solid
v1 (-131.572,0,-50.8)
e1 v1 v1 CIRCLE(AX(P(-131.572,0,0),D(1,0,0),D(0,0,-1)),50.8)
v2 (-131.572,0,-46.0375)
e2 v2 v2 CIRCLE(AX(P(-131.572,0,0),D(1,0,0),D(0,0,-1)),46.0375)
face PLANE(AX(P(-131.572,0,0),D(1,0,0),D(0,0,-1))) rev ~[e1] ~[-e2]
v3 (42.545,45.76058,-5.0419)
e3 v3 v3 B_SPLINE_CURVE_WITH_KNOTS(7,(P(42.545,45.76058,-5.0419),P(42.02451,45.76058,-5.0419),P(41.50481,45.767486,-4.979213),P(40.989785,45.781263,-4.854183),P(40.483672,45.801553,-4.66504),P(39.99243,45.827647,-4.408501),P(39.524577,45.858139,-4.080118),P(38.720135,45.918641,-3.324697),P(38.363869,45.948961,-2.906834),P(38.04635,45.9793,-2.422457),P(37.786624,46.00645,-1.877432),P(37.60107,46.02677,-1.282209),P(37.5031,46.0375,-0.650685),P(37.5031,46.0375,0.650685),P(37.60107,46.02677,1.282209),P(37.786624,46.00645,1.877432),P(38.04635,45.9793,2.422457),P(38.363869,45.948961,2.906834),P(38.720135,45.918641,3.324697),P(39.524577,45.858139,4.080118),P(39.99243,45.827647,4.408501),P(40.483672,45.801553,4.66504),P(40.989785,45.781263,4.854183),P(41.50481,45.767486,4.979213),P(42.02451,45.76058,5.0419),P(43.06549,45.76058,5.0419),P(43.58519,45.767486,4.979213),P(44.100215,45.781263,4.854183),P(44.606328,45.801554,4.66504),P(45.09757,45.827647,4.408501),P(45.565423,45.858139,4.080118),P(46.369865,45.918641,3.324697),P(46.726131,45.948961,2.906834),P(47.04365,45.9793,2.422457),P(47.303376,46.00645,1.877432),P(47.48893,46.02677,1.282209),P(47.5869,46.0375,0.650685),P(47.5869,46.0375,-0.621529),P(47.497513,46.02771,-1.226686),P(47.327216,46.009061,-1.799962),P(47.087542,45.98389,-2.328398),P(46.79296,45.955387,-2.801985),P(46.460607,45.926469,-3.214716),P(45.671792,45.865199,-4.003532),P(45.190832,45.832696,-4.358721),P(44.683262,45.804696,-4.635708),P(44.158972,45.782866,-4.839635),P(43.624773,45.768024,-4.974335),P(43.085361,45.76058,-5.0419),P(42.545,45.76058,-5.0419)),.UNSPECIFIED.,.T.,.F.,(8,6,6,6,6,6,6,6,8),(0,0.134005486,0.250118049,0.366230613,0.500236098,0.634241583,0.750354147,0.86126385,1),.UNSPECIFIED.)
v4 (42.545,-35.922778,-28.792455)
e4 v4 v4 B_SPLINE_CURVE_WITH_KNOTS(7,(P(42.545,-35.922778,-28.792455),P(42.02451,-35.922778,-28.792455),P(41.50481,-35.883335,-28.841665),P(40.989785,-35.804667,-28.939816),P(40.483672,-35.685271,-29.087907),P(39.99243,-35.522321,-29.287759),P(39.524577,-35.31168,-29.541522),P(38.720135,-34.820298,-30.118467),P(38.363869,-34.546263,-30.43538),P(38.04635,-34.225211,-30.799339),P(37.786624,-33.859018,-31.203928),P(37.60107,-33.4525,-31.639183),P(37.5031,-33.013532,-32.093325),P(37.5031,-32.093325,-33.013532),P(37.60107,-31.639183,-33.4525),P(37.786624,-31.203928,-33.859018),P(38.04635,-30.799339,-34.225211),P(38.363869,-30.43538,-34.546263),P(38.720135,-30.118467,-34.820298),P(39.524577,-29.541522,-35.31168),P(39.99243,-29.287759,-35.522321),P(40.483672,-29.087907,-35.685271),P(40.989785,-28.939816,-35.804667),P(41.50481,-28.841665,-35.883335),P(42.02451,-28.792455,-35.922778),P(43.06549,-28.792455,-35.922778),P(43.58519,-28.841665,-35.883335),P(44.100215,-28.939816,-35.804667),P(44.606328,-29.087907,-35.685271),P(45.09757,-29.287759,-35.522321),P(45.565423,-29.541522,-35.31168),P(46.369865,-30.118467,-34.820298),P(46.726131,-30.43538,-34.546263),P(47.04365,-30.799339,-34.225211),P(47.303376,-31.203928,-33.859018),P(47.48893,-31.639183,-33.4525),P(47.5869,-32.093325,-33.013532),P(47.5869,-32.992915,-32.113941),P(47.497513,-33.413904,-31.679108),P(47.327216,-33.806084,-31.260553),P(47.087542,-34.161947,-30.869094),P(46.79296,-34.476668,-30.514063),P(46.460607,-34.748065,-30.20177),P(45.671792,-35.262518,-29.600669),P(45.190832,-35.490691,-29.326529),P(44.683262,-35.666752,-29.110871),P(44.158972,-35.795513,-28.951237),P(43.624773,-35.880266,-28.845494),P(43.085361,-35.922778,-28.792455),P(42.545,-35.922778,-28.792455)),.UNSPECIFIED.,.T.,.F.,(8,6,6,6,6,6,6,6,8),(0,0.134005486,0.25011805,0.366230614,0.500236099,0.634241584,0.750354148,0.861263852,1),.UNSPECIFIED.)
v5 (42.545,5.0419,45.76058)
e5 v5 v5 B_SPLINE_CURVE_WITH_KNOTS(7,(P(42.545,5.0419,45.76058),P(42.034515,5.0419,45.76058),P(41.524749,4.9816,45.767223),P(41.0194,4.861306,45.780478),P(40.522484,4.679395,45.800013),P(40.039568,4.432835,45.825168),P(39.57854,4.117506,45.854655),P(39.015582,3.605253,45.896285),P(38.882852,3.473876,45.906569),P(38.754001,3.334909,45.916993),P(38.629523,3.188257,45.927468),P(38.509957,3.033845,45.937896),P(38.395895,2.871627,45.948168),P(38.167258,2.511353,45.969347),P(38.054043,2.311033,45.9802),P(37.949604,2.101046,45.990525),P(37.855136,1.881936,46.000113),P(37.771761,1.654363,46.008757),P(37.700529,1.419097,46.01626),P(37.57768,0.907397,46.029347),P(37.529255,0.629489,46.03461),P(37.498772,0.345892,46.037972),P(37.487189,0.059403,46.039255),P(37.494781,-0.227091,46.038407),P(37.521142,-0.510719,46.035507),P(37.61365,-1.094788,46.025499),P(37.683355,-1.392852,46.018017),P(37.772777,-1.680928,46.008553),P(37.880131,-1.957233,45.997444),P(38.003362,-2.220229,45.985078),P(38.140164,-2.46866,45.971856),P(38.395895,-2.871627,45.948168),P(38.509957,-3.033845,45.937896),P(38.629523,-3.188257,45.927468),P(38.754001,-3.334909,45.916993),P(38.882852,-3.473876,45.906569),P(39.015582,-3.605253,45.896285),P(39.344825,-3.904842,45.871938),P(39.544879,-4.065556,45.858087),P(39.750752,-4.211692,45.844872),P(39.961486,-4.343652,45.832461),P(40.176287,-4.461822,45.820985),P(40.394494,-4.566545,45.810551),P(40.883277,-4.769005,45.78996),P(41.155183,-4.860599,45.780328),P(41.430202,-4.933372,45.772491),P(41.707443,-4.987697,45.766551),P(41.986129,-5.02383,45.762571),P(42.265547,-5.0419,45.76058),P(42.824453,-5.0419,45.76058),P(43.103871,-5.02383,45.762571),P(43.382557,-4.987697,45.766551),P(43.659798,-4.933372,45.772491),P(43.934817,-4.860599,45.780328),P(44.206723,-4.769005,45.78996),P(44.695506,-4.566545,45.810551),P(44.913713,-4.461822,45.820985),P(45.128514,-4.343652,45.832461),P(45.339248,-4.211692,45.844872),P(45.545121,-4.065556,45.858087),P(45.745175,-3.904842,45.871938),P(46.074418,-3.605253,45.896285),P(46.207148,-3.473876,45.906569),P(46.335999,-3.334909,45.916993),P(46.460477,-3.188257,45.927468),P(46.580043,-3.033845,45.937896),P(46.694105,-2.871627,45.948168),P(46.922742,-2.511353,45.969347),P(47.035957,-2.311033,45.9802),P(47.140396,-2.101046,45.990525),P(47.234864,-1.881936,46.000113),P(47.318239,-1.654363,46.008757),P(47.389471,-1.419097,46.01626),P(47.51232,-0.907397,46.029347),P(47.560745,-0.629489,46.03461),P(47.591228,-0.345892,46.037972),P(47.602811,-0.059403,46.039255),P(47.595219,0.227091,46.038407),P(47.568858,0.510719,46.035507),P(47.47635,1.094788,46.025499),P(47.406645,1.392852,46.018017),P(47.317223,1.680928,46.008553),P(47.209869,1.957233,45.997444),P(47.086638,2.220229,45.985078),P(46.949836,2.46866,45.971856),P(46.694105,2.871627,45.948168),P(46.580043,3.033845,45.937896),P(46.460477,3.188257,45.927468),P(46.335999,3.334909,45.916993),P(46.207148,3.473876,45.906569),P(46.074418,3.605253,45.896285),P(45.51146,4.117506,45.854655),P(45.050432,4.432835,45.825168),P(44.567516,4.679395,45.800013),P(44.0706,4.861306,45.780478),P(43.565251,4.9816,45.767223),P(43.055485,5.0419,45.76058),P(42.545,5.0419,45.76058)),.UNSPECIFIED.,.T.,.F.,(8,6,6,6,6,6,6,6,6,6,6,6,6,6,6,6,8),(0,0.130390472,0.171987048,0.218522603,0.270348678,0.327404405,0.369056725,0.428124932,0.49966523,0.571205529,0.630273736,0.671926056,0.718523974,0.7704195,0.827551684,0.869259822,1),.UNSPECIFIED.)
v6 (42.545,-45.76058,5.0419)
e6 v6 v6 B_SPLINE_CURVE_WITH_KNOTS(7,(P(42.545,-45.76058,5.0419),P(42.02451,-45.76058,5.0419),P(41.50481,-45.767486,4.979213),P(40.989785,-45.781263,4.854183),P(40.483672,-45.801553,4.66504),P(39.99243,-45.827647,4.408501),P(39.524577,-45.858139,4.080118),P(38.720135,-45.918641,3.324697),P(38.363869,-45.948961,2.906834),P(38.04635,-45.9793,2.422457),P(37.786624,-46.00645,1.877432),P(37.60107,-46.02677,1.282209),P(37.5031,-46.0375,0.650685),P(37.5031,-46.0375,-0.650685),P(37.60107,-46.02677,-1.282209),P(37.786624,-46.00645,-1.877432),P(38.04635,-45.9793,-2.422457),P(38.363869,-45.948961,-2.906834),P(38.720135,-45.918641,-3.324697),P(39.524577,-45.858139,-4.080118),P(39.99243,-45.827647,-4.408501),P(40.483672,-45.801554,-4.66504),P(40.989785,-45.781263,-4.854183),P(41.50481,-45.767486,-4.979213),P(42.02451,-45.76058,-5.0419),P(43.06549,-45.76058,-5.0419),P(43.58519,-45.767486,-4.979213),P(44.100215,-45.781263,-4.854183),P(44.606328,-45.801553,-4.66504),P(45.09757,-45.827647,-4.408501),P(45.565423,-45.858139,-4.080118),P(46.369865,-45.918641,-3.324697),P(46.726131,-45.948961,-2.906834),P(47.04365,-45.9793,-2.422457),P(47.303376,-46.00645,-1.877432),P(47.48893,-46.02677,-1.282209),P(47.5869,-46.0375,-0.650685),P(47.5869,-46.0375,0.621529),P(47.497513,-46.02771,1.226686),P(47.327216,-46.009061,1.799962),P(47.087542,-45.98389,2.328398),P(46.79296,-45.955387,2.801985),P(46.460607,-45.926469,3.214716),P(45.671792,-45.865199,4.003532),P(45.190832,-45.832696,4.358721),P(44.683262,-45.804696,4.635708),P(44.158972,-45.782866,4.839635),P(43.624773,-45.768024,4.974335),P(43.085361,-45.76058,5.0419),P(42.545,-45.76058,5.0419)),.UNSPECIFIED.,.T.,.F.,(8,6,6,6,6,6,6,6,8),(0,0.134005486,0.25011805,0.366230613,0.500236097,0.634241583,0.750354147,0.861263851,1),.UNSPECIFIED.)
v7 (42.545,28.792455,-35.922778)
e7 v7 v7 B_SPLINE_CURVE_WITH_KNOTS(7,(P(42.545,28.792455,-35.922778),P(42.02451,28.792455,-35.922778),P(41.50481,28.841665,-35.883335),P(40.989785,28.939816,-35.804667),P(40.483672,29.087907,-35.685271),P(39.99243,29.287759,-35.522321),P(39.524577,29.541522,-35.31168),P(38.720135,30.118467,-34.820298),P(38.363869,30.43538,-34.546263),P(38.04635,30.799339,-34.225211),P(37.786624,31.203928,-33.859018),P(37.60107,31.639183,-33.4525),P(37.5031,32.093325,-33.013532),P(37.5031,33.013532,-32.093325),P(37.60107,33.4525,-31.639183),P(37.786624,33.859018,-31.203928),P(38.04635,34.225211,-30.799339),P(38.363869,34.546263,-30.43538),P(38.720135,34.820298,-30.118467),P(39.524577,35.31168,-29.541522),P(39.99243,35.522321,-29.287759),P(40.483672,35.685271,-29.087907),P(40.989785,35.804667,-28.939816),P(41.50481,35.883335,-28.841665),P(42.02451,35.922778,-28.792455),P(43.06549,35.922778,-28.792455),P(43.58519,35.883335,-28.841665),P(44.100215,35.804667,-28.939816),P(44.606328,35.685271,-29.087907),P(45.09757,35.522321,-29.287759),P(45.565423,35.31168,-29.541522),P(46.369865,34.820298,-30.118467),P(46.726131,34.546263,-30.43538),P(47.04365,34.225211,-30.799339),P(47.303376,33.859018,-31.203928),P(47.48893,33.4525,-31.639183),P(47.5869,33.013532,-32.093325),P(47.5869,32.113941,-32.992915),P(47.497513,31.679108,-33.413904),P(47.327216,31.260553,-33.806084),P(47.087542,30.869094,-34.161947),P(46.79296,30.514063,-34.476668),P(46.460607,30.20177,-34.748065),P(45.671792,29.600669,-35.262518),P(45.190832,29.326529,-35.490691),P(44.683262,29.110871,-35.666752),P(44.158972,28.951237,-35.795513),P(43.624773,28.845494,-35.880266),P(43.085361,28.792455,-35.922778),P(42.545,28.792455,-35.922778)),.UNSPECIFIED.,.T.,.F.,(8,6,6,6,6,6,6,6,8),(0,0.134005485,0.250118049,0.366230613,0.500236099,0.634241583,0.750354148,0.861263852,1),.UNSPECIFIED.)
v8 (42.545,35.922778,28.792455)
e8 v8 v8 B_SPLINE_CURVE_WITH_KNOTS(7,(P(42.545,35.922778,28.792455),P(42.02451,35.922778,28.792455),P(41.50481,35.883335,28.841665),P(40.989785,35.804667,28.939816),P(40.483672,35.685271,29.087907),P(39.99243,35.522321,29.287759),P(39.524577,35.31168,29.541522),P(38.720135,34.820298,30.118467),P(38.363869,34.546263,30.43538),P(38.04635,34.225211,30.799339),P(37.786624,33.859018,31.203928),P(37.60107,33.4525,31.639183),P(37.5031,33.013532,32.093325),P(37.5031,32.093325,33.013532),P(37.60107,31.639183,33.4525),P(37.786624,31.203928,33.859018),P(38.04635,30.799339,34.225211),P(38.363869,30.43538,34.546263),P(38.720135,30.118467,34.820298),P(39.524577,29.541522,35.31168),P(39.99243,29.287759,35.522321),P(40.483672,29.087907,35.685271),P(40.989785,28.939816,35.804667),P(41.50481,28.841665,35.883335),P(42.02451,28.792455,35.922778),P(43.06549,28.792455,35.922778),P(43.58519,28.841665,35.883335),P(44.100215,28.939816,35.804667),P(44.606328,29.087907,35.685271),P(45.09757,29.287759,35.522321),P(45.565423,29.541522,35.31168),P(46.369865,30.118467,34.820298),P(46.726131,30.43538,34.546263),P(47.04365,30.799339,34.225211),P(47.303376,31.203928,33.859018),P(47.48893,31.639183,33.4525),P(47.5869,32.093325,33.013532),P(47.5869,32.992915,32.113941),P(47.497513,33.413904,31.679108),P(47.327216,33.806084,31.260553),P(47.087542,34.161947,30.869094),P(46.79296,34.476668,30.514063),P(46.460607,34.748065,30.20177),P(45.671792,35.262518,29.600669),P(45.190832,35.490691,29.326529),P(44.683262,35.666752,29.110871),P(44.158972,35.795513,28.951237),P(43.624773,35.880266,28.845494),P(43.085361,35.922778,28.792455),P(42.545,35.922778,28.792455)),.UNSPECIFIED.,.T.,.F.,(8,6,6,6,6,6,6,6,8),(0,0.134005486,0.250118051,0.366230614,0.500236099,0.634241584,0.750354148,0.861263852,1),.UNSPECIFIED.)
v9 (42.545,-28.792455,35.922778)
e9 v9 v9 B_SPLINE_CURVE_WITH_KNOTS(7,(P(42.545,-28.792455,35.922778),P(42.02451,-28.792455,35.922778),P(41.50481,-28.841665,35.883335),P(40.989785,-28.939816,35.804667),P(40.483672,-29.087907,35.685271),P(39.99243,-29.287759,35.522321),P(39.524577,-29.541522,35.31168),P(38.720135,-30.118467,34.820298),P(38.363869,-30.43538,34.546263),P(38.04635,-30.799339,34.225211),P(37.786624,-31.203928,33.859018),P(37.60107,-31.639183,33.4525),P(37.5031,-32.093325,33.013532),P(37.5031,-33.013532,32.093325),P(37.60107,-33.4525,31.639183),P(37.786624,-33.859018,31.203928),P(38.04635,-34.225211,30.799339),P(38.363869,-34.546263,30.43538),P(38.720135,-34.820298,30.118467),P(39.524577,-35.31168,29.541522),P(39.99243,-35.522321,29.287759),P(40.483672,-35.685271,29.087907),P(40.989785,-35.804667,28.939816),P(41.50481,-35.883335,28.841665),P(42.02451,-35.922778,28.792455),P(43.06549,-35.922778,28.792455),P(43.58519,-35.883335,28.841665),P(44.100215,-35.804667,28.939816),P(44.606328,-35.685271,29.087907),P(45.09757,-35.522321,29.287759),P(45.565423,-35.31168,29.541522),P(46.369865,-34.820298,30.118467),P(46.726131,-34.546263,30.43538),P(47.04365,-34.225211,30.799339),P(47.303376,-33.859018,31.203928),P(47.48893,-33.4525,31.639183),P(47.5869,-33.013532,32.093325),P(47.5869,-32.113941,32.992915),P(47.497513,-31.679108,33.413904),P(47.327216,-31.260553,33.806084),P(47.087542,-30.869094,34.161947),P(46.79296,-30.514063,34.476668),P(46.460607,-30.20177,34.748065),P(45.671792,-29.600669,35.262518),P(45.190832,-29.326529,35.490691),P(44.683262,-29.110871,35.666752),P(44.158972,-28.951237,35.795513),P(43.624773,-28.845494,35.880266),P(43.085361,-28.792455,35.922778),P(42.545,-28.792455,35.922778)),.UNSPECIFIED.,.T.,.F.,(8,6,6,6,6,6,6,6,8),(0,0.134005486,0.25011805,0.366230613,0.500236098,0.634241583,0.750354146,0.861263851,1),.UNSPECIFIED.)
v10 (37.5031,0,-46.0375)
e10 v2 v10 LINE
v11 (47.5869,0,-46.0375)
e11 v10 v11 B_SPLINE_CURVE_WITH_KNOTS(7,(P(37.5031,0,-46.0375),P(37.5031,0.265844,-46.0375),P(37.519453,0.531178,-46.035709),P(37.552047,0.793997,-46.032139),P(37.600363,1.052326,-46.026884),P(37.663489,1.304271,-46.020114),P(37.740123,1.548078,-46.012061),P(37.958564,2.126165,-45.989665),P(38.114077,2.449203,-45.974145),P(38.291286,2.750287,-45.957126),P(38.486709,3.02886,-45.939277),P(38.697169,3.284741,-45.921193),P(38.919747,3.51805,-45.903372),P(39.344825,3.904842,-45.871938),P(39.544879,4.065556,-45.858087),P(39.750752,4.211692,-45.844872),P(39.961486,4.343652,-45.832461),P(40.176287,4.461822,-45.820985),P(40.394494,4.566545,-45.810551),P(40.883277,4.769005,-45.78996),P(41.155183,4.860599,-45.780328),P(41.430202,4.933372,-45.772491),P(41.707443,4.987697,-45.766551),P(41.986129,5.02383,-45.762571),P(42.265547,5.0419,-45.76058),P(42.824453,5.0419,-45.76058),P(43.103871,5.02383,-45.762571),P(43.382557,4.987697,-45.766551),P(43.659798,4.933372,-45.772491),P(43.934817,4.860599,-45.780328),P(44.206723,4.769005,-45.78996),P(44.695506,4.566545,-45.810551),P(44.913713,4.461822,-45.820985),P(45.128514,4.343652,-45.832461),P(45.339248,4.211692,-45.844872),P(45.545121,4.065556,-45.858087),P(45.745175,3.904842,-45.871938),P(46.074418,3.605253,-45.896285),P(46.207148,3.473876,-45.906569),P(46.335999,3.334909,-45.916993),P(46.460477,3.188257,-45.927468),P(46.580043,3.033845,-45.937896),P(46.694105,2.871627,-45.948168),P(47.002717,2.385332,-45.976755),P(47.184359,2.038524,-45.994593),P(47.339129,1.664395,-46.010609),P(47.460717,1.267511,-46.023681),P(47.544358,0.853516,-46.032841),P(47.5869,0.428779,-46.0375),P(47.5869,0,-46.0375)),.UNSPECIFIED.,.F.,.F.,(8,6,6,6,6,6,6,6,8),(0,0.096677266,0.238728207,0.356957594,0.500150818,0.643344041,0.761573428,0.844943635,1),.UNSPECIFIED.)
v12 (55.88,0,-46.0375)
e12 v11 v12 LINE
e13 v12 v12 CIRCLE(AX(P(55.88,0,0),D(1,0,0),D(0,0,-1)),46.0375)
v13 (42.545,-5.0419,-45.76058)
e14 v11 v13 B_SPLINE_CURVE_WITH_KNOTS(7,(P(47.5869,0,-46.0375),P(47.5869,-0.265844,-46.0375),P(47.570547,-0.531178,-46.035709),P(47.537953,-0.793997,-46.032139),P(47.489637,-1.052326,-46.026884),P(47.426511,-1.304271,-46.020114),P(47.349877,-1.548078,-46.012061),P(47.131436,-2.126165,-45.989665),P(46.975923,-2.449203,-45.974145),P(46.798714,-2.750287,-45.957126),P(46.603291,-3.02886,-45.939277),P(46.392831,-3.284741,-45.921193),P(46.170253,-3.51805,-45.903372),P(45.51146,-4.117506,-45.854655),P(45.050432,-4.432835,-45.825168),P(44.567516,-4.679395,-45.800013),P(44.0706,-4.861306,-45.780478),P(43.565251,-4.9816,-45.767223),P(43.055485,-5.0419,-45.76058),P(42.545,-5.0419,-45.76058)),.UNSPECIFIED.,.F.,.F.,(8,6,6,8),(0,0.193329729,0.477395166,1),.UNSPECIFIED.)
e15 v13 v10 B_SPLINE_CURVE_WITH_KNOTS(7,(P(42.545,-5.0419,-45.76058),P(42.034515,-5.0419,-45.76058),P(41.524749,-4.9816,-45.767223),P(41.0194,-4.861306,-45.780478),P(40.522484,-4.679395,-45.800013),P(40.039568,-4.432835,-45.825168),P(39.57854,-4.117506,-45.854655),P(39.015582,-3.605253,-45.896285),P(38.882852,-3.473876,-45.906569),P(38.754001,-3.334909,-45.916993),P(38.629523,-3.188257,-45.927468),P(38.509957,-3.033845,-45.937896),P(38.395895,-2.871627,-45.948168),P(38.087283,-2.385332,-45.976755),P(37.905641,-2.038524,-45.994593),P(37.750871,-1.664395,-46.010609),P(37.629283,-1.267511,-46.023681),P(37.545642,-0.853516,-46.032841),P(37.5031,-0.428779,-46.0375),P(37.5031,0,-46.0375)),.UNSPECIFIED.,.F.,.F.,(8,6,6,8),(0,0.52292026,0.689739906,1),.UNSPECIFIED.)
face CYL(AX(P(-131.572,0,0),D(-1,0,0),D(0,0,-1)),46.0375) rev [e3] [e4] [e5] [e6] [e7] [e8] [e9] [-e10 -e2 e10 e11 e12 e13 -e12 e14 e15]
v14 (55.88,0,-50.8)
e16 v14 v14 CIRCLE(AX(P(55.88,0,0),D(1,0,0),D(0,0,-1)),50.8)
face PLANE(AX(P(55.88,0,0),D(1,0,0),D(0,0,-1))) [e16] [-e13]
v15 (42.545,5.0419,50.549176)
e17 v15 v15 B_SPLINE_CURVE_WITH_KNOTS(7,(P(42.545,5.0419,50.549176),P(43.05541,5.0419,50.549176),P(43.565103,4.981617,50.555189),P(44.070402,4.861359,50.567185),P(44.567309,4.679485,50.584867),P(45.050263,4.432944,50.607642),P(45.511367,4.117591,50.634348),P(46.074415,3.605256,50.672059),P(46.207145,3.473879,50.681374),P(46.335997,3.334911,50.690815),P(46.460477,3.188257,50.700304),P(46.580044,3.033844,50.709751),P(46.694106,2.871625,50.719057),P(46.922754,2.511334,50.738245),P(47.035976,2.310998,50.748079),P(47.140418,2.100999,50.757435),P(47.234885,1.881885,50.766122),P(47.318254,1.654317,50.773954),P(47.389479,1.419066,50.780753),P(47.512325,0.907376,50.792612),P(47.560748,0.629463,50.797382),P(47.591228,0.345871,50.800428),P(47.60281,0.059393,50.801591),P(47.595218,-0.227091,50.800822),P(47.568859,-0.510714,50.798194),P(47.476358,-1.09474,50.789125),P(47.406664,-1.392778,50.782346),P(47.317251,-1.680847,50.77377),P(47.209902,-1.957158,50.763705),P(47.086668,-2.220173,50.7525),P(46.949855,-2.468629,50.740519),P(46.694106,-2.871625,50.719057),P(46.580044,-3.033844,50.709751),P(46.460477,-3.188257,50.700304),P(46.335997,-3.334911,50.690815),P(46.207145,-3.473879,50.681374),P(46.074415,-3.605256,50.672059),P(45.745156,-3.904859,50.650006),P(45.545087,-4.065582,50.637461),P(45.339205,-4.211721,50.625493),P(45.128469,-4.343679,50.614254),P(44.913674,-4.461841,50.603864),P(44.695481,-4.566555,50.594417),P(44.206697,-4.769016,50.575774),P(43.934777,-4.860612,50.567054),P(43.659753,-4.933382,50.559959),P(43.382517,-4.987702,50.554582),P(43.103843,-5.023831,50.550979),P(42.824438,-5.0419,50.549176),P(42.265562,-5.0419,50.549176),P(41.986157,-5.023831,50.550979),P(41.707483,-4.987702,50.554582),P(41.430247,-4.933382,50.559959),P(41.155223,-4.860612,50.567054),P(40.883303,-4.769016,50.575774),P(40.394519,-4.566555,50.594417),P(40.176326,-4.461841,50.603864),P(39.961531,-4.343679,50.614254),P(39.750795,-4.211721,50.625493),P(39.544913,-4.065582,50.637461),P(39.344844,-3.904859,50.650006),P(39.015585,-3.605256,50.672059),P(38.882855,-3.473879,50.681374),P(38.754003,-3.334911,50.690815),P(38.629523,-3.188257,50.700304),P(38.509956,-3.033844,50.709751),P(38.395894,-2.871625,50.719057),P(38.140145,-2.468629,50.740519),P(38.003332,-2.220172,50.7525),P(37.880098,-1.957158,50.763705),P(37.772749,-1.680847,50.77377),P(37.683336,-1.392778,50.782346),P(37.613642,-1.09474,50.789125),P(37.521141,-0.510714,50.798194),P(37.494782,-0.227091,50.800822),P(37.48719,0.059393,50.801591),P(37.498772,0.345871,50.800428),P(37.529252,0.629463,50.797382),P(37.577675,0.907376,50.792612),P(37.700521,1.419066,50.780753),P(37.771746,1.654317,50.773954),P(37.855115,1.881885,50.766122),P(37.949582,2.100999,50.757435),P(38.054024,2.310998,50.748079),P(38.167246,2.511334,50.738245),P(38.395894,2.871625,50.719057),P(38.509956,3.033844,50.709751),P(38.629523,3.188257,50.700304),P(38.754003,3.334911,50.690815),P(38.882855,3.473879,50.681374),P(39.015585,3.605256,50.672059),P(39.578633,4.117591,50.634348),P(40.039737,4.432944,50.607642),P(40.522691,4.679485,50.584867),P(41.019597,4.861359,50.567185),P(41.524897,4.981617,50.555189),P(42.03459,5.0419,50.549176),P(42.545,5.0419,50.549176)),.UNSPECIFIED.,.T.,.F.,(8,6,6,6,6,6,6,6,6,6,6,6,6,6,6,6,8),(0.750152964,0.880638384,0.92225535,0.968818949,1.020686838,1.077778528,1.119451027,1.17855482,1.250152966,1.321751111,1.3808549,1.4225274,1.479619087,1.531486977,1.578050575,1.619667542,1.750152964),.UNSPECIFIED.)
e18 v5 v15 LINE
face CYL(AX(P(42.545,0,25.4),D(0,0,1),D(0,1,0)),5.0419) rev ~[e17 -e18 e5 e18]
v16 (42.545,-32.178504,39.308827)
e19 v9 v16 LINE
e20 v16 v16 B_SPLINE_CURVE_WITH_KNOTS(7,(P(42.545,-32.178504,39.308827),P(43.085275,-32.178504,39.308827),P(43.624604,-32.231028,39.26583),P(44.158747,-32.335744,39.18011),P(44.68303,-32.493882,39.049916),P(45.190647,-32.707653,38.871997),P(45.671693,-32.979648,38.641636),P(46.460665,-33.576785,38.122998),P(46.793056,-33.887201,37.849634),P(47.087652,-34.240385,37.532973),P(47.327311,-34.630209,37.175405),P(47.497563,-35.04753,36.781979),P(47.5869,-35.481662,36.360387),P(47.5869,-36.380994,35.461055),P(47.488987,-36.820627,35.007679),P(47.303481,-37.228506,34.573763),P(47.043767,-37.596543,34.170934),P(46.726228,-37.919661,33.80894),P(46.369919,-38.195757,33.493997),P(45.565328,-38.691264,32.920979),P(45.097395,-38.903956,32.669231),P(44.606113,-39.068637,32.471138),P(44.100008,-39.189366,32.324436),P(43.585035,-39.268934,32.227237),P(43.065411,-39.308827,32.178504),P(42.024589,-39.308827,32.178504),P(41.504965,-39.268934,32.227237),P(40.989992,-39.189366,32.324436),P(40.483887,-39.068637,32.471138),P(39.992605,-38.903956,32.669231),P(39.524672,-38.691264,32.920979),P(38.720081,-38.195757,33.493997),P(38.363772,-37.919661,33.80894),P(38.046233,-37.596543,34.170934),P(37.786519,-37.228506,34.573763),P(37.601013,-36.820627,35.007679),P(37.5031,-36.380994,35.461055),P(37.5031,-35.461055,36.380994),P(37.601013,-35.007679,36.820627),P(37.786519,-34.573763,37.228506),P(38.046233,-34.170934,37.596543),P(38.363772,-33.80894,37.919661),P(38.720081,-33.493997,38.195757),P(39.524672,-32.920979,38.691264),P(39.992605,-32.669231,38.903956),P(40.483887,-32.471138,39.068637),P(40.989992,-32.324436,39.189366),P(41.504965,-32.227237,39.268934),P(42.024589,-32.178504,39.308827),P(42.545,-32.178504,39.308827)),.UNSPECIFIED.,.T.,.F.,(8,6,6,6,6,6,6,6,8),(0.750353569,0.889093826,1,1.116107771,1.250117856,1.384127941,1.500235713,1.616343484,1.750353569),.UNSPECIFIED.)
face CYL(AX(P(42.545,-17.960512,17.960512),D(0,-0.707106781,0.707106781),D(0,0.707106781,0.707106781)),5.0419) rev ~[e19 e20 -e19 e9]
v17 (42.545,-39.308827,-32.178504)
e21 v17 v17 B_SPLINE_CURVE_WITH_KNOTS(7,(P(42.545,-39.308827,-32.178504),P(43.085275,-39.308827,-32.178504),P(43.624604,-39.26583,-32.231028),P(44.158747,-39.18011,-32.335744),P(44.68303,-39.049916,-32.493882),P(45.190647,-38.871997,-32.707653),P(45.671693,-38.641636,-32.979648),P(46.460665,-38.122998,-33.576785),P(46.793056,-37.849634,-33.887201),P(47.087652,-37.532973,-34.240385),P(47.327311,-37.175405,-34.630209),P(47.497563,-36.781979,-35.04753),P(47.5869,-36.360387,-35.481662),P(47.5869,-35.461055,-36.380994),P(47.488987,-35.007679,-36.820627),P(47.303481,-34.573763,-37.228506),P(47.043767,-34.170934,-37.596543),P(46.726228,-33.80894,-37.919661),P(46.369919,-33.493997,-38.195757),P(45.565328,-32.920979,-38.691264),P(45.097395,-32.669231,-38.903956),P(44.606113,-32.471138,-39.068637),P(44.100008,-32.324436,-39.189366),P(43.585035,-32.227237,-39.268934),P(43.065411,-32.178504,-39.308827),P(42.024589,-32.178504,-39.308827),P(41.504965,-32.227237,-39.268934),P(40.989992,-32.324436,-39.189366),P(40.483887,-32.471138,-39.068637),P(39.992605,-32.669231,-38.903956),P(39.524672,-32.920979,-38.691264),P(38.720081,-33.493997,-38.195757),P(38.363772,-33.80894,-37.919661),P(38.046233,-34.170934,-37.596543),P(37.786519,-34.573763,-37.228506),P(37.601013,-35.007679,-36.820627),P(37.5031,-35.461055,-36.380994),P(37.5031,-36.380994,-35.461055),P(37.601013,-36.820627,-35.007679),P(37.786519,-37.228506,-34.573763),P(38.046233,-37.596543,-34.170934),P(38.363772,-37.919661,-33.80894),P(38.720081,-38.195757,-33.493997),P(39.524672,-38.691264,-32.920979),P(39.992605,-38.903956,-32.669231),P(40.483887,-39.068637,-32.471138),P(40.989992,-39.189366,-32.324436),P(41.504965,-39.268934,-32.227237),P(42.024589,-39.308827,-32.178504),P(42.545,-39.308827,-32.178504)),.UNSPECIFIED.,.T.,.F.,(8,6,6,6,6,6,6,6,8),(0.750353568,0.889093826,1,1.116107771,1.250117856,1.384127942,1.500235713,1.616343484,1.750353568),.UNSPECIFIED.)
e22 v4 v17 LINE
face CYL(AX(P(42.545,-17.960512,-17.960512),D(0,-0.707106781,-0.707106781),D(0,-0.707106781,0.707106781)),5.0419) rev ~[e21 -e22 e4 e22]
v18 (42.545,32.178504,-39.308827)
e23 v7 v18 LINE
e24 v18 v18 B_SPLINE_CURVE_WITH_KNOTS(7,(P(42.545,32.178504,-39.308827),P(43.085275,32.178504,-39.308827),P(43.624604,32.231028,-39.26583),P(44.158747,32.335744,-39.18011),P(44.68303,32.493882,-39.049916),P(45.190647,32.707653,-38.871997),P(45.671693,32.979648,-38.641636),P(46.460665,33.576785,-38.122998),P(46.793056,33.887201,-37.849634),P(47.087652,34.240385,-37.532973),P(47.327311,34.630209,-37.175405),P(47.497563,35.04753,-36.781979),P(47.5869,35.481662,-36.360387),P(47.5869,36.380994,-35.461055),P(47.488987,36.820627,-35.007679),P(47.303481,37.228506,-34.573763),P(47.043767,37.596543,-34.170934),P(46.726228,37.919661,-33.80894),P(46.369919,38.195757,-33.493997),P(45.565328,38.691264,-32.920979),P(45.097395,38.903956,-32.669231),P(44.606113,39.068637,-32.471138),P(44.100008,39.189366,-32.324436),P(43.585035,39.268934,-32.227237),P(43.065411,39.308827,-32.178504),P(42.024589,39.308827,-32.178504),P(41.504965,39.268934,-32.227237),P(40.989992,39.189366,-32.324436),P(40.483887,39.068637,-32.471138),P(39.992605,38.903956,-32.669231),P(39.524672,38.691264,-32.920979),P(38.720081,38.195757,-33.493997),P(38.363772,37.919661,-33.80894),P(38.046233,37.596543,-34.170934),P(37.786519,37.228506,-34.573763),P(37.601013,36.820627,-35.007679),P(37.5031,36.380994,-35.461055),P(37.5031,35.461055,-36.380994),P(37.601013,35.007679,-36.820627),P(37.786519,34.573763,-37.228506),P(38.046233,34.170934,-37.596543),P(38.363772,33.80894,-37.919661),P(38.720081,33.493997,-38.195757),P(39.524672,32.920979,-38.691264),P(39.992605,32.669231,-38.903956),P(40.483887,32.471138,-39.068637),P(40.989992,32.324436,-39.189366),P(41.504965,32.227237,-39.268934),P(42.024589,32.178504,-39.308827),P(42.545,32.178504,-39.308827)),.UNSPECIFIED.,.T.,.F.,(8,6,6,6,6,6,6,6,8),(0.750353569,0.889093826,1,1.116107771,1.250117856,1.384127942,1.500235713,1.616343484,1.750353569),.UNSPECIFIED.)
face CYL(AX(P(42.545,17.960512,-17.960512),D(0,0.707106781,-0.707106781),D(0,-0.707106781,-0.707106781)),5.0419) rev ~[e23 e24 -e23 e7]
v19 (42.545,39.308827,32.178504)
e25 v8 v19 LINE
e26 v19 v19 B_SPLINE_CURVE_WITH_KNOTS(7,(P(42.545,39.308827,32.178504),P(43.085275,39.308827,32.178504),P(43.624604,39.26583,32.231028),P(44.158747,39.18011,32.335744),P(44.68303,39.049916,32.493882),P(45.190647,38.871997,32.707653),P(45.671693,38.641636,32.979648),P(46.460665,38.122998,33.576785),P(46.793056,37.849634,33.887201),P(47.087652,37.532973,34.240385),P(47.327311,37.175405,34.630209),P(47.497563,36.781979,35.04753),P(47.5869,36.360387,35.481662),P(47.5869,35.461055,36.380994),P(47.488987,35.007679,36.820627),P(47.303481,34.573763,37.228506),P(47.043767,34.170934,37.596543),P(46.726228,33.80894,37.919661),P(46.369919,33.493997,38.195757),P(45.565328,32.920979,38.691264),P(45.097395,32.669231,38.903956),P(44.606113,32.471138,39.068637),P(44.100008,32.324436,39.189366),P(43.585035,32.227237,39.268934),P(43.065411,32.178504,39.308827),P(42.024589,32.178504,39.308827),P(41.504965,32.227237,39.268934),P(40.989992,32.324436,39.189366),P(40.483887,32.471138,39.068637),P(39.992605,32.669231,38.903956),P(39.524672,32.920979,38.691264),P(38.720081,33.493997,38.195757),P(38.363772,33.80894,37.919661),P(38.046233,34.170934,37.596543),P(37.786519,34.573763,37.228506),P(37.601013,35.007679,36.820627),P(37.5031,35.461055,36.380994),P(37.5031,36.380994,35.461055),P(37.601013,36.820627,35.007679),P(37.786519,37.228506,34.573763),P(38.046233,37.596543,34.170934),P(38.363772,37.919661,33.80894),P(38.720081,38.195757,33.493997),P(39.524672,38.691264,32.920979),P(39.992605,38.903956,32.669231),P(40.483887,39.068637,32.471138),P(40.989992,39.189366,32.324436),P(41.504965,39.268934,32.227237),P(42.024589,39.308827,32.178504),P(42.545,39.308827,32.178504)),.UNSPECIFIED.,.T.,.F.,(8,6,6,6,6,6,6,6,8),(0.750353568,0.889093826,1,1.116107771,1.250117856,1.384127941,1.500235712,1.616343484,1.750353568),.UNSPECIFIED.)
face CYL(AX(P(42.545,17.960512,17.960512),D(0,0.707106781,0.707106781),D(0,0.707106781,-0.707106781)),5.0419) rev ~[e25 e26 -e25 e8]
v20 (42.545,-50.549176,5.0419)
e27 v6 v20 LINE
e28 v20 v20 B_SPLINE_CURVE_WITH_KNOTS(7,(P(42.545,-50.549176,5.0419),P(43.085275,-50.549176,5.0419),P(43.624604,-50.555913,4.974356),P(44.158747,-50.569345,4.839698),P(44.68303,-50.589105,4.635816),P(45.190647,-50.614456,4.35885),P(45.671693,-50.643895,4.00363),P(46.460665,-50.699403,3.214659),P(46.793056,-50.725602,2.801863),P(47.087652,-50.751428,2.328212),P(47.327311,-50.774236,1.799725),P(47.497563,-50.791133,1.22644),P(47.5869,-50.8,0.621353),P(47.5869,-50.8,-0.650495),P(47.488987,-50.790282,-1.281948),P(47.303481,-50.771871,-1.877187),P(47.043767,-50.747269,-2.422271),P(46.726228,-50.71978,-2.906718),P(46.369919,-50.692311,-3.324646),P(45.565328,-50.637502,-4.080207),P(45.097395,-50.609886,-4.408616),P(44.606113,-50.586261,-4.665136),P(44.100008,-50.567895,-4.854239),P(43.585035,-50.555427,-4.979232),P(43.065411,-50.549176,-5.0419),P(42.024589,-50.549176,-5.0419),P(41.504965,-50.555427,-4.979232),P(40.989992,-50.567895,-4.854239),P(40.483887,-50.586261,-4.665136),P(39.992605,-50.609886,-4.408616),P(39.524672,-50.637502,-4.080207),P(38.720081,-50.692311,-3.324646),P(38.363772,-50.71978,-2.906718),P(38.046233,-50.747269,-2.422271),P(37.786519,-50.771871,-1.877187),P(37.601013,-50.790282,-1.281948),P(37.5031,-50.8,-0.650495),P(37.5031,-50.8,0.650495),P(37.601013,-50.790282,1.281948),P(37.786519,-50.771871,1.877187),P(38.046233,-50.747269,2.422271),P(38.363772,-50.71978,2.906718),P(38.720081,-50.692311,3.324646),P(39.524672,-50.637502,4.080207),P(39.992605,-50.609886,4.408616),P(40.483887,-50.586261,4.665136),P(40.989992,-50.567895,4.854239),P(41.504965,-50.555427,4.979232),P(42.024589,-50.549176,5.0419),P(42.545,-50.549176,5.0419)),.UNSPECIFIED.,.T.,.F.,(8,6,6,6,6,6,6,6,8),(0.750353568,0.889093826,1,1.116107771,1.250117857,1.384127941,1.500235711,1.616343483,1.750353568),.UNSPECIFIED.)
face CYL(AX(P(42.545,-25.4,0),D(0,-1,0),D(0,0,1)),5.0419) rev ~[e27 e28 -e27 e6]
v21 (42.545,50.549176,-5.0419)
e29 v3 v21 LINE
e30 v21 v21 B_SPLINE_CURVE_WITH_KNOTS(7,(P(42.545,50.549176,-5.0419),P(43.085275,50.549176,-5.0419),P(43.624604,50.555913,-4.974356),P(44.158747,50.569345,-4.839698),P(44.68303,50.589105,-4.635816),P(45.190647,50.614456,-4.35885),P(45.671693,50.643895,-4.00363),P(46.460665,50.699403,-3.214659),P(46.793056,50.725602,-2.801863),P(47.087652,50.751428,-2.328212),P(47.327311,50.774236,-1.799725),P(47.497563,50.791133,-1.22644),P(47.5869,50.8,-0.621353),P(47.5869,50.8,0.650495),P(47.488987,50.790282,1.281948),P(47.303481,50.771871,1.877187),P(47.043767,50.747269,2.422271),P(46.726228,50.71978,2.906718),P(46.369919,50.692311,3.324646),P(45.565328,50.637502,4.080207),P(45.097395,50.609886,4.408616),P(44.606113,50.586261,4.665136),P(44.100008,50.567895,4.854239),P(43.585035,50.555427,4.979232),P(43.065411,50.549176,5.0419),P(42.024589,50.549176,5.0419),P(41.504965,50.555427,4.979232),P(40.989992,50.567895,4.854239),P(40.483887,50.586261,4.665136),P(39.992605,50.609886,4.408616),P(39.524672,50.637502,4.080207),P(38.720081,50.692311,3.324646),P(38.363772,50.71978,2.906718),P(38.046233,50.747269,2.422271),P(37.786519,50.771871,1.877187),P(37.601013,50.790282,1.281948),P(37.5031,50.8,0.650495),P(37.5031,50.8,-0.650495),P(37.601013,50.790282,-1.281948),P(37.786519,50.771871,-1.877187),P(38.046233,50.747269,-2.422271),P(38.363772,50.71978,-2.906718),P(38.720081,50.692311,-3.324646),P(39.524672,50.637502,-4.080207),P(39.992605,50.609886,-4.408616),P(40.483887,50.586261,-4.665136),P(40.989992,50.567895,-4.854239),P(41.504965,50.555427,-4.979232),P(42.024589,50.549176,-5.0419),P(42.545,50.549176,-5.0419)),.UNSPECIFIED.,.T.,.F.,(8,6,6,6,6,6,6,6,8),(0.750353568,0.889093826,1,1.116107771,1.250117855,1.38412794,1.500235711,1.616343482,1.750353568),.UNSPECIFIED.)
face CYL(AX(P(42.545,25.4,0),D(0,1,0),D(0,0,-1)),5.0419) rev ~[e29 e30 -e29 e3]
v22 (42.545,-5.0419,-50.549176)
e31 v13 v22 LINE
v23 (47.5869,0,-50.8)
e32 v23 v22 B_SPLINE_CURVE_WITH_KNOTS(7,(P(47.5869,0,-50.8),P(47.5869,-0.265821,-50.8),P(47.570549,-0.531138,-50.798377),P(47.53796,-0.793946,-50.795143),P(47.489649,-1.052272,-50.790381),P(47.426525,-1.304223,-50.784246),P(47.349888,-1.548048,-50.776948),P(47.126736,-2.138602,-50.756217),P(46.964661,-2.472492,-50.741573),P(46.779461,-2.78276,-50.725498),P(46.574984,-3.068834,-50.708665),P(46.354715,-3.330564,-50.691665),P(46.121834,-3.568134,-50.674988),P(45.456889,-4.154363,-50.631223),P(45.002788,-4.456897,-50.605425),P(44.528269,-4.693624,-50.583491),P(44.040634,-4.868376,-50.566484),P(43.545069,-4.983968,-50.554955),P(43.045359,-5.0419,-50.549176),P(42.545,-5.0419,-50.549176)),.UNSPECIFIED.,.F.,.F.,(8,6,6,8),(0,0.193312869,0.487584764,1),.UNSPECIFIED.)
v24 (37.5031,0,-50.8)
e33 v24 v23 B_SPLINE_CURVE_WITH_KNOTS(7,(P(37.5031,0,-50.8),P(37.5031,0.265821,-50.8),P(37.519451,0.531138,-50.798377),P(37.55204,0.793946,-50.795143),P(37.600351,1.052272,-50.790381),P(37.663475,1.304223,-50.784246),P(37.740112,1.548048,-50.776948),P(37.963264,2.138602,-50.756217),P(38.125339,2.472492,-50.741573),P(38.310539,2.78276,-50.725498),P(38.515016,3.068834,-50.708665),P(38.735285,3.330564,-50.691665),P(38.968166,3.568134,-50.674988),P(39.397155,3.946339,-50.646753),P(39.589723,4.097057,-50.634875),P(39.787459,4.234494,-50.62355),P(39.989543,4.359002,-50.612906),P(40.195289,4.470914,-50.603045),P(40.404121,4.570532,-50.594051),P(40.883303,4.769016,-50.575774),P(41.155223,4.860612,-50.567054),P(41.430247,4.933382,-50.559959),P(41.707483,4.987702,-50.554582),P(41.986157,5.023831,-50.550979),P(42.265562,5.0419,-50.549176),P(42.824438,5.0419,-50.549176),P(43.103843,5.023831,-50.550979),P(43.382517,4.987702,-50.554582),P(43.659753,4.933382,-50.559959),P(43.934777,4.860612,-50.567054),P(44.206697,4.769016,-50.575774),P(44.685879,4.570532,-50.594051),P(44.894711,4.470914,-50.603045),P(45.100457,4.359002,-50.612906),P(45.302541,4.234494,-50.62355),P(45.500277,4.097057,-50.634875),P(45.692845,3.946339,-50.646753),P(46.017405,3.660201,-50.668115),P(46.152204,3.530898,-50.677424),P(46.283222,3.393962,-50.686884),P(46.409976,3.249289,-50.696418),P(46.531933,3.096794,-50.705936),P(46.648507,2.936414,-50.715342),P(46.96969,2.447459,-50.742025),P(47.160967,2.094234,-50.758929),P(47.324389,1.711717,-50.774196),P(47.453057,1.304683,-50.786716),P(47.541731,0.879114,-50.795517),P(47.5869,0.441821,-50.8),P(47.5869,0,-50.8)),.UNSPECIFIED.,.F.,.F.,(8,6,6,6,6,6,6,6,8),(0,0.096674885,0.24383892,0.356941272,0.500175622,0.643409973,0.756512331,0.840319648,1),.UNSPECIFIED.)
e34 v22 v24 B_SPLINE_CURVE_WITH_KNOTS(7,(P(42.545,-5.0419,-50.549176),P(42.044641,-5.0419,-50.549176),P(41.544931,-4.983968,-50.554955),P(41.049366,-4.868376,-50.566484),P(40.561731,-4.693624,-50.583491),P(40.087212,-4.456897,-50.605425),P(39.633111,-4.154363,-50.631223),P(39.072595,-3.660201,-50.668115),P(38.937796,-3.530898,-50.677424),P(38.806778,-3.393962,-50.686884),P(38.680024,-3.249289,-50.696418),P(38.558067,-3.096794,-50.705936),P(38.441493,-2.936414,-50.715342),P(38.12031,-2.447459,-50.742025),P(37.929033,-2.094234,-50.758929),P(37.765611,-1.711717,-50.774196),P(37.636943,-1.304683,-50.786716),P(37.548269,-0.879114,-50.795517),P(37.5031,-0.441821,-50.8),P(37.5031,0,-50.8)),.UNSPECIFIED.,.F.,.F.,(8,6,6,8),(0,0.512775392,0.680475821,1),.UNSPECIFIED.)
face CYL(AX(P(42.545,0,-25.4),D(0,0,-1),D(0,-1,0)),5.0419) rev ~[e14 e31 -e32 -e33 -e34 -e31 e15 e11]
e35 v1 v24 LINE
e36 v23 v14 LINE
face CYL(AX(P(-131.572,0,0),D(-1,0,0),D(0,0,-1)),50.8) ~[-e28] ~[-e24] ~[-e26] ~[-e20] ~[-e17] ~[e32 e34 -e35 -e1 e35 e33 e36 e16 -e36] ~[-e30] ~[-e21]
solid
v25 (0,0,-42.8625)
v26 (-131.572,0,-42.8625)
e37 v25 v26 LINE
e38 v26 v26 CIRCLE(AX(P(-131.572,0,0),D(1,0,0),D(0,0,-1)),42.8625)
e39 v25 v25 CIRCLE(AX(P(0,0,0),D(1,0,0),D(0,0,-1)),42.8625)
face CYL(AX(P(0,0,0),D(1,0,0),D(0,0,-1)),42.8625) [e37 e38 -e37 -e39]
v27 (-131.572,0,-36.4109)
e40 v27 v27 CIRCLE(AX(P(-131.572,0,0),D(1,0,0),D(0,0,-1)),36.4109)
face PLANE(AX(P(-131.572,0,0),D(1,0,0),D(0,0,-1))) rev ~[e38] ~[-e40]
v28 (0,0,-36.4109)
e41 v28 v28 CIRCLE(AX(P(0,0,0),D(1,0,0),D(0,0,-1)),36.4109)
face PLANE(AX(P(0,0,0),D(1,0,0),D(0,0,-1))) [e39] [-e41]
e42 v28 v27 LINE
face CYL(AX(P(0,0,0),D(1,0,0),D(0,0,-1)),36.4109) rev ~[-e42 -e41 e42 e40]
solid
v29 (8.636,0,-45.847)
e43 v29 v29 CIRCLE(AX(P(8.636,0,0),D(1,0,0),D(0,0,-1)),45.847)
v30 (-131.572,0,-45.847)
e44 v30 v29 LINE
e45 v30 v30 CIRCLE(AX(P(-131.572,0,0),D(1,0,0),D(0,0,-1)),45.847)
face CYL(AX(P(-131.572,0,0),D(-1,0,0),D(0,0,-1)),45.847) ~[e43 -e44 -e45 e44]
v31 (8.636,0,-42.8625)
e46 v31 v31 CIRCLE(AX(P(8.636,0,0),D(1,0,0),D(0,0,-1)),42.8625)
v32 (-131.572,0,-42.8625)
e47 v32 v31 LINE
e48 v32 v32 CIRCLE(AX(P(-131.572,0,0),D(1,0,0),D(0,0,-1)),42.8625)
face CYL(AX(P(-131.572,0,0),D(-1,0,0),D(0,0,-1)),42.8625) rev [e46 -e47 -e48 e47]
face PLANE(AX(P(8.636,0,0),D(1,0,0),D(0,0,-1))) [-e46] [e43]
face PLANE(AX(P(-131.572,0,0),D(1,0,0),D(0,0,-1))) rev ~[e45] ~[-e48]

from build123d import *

# Parameters (mm, degrees)
BOSS_EXTRUDE1_DEPTH      = 55.88
BOSS_EXTRUDE1_DEPTH_BACK = 131.572
SKETCH1_R                = 50.8
SKETCH1_R_2              = 46.0375
BOSS_EXTRUDE2_DEPTH      = 8.636
BOSS_EXTRUDE2_DEPTH_BACK = 131.572
SKETCH1_3_R              = 45.847
SKETCH1_3_R_2            = 42.8625
SKETCH3_W                = 5.0419
SKETCH3_H                = 50.8
CIRPATTERN1_COUNT        = 8
SKETCH1_5_R              = 42.8625
SKETCH1_5_R_2            = 36.4109
BOSS_EXTRUDE4_DEPTH      = 131.572


with BuildPart() as part:
    # Sketch1 → Boss-Extrude1 (new, two sides: drawn at the far end of the back side and taken through both)
    with BuildSketch(Plane(origin=(0, 0, 0), x_dir=(0, 0, -1), z_dir=(1, 0, 0)).offset(-BOSS_EXTRUDE1_DEPTH_BACK)):
        Circle(SKETCH1_R)
        Circle(SKETCH1_R_2, mode=Mode.SUBTRACT)
    extrude(amount=BOSS_EXTRUDE1_DEPTH + BOSS_EXTRUDE1_DEPTH_BACK)

    # Sketch3 → Tap Drill for 3/8 Helicoil1 (revolve, cut)
    with BuildSketch(Plane(origin=(42.545, 0, 0), x_dir=(0, -1, 0), z_dir=(1, 0, 0))):
        with Locations((2.52095, 25.4)):
            Rectangle(SKETCH3_W, SKETCH3_H)
    tap_drill_for_3_8_helicoil1 = revolve(axis=Axis((42.545, 0, 6.35), (0, 0, -1)), mode=Mode.SUBTRACT)

    # CirPattern1: Tap Drill for 3/8 Helicoil1 ×8 about axis
    cirpattern1_axis = Axis((74.60738497, 0, 0), (-1, 0, 0))
    for i in range(1, CIRPATTERN1_COUNT):
        add(tap_drill_for_3_8_helicoil1.rotate(cirpattern1_axis, i * 360 / CIRPATTERN1_COUNT), mode=Mode.SUBTRACT)


with BuildPart() as body_2:
    # Sketch1<3> → Boss-Extrude2 (new, two sides: drawn at the far end of the back side and taken through both)
    with BuildSketch(Plane(origin=(0, 0, 0), x_dir=(0, 0, -1), z_dir=(1, 0, 0)).offset(-BOSS_EXTRUDE2_DEPTH_BACK)):
        Circle(SKETCH1_3_R)
        Circle(SKETCH1_3_R_2, mode=Mode.SUBTRACT)
    extrude(amount=BOSS_EXTRUDE2_DEPTH + BOSS_EXTRUDE2_DEPTH_BACK)


with BuildPart() as body_3:
    # Sketch1<5> → Boss-Extrude4 (new body)
    with BuildSketch(Plane(origin=(0, 0, 0), x_dir=(0, 0, -1), z_dir=(1, 0, 0))):
        Circle(SKETCH1_5_R)
        Circle(SKETCH1_5_R_2, mode=Mode.SUBTRACT)
    extrude(amount=-BOSS_EXTRUDE4_DEPTH)


solid = Compound([part.part, body_2.part, body_3.part])
